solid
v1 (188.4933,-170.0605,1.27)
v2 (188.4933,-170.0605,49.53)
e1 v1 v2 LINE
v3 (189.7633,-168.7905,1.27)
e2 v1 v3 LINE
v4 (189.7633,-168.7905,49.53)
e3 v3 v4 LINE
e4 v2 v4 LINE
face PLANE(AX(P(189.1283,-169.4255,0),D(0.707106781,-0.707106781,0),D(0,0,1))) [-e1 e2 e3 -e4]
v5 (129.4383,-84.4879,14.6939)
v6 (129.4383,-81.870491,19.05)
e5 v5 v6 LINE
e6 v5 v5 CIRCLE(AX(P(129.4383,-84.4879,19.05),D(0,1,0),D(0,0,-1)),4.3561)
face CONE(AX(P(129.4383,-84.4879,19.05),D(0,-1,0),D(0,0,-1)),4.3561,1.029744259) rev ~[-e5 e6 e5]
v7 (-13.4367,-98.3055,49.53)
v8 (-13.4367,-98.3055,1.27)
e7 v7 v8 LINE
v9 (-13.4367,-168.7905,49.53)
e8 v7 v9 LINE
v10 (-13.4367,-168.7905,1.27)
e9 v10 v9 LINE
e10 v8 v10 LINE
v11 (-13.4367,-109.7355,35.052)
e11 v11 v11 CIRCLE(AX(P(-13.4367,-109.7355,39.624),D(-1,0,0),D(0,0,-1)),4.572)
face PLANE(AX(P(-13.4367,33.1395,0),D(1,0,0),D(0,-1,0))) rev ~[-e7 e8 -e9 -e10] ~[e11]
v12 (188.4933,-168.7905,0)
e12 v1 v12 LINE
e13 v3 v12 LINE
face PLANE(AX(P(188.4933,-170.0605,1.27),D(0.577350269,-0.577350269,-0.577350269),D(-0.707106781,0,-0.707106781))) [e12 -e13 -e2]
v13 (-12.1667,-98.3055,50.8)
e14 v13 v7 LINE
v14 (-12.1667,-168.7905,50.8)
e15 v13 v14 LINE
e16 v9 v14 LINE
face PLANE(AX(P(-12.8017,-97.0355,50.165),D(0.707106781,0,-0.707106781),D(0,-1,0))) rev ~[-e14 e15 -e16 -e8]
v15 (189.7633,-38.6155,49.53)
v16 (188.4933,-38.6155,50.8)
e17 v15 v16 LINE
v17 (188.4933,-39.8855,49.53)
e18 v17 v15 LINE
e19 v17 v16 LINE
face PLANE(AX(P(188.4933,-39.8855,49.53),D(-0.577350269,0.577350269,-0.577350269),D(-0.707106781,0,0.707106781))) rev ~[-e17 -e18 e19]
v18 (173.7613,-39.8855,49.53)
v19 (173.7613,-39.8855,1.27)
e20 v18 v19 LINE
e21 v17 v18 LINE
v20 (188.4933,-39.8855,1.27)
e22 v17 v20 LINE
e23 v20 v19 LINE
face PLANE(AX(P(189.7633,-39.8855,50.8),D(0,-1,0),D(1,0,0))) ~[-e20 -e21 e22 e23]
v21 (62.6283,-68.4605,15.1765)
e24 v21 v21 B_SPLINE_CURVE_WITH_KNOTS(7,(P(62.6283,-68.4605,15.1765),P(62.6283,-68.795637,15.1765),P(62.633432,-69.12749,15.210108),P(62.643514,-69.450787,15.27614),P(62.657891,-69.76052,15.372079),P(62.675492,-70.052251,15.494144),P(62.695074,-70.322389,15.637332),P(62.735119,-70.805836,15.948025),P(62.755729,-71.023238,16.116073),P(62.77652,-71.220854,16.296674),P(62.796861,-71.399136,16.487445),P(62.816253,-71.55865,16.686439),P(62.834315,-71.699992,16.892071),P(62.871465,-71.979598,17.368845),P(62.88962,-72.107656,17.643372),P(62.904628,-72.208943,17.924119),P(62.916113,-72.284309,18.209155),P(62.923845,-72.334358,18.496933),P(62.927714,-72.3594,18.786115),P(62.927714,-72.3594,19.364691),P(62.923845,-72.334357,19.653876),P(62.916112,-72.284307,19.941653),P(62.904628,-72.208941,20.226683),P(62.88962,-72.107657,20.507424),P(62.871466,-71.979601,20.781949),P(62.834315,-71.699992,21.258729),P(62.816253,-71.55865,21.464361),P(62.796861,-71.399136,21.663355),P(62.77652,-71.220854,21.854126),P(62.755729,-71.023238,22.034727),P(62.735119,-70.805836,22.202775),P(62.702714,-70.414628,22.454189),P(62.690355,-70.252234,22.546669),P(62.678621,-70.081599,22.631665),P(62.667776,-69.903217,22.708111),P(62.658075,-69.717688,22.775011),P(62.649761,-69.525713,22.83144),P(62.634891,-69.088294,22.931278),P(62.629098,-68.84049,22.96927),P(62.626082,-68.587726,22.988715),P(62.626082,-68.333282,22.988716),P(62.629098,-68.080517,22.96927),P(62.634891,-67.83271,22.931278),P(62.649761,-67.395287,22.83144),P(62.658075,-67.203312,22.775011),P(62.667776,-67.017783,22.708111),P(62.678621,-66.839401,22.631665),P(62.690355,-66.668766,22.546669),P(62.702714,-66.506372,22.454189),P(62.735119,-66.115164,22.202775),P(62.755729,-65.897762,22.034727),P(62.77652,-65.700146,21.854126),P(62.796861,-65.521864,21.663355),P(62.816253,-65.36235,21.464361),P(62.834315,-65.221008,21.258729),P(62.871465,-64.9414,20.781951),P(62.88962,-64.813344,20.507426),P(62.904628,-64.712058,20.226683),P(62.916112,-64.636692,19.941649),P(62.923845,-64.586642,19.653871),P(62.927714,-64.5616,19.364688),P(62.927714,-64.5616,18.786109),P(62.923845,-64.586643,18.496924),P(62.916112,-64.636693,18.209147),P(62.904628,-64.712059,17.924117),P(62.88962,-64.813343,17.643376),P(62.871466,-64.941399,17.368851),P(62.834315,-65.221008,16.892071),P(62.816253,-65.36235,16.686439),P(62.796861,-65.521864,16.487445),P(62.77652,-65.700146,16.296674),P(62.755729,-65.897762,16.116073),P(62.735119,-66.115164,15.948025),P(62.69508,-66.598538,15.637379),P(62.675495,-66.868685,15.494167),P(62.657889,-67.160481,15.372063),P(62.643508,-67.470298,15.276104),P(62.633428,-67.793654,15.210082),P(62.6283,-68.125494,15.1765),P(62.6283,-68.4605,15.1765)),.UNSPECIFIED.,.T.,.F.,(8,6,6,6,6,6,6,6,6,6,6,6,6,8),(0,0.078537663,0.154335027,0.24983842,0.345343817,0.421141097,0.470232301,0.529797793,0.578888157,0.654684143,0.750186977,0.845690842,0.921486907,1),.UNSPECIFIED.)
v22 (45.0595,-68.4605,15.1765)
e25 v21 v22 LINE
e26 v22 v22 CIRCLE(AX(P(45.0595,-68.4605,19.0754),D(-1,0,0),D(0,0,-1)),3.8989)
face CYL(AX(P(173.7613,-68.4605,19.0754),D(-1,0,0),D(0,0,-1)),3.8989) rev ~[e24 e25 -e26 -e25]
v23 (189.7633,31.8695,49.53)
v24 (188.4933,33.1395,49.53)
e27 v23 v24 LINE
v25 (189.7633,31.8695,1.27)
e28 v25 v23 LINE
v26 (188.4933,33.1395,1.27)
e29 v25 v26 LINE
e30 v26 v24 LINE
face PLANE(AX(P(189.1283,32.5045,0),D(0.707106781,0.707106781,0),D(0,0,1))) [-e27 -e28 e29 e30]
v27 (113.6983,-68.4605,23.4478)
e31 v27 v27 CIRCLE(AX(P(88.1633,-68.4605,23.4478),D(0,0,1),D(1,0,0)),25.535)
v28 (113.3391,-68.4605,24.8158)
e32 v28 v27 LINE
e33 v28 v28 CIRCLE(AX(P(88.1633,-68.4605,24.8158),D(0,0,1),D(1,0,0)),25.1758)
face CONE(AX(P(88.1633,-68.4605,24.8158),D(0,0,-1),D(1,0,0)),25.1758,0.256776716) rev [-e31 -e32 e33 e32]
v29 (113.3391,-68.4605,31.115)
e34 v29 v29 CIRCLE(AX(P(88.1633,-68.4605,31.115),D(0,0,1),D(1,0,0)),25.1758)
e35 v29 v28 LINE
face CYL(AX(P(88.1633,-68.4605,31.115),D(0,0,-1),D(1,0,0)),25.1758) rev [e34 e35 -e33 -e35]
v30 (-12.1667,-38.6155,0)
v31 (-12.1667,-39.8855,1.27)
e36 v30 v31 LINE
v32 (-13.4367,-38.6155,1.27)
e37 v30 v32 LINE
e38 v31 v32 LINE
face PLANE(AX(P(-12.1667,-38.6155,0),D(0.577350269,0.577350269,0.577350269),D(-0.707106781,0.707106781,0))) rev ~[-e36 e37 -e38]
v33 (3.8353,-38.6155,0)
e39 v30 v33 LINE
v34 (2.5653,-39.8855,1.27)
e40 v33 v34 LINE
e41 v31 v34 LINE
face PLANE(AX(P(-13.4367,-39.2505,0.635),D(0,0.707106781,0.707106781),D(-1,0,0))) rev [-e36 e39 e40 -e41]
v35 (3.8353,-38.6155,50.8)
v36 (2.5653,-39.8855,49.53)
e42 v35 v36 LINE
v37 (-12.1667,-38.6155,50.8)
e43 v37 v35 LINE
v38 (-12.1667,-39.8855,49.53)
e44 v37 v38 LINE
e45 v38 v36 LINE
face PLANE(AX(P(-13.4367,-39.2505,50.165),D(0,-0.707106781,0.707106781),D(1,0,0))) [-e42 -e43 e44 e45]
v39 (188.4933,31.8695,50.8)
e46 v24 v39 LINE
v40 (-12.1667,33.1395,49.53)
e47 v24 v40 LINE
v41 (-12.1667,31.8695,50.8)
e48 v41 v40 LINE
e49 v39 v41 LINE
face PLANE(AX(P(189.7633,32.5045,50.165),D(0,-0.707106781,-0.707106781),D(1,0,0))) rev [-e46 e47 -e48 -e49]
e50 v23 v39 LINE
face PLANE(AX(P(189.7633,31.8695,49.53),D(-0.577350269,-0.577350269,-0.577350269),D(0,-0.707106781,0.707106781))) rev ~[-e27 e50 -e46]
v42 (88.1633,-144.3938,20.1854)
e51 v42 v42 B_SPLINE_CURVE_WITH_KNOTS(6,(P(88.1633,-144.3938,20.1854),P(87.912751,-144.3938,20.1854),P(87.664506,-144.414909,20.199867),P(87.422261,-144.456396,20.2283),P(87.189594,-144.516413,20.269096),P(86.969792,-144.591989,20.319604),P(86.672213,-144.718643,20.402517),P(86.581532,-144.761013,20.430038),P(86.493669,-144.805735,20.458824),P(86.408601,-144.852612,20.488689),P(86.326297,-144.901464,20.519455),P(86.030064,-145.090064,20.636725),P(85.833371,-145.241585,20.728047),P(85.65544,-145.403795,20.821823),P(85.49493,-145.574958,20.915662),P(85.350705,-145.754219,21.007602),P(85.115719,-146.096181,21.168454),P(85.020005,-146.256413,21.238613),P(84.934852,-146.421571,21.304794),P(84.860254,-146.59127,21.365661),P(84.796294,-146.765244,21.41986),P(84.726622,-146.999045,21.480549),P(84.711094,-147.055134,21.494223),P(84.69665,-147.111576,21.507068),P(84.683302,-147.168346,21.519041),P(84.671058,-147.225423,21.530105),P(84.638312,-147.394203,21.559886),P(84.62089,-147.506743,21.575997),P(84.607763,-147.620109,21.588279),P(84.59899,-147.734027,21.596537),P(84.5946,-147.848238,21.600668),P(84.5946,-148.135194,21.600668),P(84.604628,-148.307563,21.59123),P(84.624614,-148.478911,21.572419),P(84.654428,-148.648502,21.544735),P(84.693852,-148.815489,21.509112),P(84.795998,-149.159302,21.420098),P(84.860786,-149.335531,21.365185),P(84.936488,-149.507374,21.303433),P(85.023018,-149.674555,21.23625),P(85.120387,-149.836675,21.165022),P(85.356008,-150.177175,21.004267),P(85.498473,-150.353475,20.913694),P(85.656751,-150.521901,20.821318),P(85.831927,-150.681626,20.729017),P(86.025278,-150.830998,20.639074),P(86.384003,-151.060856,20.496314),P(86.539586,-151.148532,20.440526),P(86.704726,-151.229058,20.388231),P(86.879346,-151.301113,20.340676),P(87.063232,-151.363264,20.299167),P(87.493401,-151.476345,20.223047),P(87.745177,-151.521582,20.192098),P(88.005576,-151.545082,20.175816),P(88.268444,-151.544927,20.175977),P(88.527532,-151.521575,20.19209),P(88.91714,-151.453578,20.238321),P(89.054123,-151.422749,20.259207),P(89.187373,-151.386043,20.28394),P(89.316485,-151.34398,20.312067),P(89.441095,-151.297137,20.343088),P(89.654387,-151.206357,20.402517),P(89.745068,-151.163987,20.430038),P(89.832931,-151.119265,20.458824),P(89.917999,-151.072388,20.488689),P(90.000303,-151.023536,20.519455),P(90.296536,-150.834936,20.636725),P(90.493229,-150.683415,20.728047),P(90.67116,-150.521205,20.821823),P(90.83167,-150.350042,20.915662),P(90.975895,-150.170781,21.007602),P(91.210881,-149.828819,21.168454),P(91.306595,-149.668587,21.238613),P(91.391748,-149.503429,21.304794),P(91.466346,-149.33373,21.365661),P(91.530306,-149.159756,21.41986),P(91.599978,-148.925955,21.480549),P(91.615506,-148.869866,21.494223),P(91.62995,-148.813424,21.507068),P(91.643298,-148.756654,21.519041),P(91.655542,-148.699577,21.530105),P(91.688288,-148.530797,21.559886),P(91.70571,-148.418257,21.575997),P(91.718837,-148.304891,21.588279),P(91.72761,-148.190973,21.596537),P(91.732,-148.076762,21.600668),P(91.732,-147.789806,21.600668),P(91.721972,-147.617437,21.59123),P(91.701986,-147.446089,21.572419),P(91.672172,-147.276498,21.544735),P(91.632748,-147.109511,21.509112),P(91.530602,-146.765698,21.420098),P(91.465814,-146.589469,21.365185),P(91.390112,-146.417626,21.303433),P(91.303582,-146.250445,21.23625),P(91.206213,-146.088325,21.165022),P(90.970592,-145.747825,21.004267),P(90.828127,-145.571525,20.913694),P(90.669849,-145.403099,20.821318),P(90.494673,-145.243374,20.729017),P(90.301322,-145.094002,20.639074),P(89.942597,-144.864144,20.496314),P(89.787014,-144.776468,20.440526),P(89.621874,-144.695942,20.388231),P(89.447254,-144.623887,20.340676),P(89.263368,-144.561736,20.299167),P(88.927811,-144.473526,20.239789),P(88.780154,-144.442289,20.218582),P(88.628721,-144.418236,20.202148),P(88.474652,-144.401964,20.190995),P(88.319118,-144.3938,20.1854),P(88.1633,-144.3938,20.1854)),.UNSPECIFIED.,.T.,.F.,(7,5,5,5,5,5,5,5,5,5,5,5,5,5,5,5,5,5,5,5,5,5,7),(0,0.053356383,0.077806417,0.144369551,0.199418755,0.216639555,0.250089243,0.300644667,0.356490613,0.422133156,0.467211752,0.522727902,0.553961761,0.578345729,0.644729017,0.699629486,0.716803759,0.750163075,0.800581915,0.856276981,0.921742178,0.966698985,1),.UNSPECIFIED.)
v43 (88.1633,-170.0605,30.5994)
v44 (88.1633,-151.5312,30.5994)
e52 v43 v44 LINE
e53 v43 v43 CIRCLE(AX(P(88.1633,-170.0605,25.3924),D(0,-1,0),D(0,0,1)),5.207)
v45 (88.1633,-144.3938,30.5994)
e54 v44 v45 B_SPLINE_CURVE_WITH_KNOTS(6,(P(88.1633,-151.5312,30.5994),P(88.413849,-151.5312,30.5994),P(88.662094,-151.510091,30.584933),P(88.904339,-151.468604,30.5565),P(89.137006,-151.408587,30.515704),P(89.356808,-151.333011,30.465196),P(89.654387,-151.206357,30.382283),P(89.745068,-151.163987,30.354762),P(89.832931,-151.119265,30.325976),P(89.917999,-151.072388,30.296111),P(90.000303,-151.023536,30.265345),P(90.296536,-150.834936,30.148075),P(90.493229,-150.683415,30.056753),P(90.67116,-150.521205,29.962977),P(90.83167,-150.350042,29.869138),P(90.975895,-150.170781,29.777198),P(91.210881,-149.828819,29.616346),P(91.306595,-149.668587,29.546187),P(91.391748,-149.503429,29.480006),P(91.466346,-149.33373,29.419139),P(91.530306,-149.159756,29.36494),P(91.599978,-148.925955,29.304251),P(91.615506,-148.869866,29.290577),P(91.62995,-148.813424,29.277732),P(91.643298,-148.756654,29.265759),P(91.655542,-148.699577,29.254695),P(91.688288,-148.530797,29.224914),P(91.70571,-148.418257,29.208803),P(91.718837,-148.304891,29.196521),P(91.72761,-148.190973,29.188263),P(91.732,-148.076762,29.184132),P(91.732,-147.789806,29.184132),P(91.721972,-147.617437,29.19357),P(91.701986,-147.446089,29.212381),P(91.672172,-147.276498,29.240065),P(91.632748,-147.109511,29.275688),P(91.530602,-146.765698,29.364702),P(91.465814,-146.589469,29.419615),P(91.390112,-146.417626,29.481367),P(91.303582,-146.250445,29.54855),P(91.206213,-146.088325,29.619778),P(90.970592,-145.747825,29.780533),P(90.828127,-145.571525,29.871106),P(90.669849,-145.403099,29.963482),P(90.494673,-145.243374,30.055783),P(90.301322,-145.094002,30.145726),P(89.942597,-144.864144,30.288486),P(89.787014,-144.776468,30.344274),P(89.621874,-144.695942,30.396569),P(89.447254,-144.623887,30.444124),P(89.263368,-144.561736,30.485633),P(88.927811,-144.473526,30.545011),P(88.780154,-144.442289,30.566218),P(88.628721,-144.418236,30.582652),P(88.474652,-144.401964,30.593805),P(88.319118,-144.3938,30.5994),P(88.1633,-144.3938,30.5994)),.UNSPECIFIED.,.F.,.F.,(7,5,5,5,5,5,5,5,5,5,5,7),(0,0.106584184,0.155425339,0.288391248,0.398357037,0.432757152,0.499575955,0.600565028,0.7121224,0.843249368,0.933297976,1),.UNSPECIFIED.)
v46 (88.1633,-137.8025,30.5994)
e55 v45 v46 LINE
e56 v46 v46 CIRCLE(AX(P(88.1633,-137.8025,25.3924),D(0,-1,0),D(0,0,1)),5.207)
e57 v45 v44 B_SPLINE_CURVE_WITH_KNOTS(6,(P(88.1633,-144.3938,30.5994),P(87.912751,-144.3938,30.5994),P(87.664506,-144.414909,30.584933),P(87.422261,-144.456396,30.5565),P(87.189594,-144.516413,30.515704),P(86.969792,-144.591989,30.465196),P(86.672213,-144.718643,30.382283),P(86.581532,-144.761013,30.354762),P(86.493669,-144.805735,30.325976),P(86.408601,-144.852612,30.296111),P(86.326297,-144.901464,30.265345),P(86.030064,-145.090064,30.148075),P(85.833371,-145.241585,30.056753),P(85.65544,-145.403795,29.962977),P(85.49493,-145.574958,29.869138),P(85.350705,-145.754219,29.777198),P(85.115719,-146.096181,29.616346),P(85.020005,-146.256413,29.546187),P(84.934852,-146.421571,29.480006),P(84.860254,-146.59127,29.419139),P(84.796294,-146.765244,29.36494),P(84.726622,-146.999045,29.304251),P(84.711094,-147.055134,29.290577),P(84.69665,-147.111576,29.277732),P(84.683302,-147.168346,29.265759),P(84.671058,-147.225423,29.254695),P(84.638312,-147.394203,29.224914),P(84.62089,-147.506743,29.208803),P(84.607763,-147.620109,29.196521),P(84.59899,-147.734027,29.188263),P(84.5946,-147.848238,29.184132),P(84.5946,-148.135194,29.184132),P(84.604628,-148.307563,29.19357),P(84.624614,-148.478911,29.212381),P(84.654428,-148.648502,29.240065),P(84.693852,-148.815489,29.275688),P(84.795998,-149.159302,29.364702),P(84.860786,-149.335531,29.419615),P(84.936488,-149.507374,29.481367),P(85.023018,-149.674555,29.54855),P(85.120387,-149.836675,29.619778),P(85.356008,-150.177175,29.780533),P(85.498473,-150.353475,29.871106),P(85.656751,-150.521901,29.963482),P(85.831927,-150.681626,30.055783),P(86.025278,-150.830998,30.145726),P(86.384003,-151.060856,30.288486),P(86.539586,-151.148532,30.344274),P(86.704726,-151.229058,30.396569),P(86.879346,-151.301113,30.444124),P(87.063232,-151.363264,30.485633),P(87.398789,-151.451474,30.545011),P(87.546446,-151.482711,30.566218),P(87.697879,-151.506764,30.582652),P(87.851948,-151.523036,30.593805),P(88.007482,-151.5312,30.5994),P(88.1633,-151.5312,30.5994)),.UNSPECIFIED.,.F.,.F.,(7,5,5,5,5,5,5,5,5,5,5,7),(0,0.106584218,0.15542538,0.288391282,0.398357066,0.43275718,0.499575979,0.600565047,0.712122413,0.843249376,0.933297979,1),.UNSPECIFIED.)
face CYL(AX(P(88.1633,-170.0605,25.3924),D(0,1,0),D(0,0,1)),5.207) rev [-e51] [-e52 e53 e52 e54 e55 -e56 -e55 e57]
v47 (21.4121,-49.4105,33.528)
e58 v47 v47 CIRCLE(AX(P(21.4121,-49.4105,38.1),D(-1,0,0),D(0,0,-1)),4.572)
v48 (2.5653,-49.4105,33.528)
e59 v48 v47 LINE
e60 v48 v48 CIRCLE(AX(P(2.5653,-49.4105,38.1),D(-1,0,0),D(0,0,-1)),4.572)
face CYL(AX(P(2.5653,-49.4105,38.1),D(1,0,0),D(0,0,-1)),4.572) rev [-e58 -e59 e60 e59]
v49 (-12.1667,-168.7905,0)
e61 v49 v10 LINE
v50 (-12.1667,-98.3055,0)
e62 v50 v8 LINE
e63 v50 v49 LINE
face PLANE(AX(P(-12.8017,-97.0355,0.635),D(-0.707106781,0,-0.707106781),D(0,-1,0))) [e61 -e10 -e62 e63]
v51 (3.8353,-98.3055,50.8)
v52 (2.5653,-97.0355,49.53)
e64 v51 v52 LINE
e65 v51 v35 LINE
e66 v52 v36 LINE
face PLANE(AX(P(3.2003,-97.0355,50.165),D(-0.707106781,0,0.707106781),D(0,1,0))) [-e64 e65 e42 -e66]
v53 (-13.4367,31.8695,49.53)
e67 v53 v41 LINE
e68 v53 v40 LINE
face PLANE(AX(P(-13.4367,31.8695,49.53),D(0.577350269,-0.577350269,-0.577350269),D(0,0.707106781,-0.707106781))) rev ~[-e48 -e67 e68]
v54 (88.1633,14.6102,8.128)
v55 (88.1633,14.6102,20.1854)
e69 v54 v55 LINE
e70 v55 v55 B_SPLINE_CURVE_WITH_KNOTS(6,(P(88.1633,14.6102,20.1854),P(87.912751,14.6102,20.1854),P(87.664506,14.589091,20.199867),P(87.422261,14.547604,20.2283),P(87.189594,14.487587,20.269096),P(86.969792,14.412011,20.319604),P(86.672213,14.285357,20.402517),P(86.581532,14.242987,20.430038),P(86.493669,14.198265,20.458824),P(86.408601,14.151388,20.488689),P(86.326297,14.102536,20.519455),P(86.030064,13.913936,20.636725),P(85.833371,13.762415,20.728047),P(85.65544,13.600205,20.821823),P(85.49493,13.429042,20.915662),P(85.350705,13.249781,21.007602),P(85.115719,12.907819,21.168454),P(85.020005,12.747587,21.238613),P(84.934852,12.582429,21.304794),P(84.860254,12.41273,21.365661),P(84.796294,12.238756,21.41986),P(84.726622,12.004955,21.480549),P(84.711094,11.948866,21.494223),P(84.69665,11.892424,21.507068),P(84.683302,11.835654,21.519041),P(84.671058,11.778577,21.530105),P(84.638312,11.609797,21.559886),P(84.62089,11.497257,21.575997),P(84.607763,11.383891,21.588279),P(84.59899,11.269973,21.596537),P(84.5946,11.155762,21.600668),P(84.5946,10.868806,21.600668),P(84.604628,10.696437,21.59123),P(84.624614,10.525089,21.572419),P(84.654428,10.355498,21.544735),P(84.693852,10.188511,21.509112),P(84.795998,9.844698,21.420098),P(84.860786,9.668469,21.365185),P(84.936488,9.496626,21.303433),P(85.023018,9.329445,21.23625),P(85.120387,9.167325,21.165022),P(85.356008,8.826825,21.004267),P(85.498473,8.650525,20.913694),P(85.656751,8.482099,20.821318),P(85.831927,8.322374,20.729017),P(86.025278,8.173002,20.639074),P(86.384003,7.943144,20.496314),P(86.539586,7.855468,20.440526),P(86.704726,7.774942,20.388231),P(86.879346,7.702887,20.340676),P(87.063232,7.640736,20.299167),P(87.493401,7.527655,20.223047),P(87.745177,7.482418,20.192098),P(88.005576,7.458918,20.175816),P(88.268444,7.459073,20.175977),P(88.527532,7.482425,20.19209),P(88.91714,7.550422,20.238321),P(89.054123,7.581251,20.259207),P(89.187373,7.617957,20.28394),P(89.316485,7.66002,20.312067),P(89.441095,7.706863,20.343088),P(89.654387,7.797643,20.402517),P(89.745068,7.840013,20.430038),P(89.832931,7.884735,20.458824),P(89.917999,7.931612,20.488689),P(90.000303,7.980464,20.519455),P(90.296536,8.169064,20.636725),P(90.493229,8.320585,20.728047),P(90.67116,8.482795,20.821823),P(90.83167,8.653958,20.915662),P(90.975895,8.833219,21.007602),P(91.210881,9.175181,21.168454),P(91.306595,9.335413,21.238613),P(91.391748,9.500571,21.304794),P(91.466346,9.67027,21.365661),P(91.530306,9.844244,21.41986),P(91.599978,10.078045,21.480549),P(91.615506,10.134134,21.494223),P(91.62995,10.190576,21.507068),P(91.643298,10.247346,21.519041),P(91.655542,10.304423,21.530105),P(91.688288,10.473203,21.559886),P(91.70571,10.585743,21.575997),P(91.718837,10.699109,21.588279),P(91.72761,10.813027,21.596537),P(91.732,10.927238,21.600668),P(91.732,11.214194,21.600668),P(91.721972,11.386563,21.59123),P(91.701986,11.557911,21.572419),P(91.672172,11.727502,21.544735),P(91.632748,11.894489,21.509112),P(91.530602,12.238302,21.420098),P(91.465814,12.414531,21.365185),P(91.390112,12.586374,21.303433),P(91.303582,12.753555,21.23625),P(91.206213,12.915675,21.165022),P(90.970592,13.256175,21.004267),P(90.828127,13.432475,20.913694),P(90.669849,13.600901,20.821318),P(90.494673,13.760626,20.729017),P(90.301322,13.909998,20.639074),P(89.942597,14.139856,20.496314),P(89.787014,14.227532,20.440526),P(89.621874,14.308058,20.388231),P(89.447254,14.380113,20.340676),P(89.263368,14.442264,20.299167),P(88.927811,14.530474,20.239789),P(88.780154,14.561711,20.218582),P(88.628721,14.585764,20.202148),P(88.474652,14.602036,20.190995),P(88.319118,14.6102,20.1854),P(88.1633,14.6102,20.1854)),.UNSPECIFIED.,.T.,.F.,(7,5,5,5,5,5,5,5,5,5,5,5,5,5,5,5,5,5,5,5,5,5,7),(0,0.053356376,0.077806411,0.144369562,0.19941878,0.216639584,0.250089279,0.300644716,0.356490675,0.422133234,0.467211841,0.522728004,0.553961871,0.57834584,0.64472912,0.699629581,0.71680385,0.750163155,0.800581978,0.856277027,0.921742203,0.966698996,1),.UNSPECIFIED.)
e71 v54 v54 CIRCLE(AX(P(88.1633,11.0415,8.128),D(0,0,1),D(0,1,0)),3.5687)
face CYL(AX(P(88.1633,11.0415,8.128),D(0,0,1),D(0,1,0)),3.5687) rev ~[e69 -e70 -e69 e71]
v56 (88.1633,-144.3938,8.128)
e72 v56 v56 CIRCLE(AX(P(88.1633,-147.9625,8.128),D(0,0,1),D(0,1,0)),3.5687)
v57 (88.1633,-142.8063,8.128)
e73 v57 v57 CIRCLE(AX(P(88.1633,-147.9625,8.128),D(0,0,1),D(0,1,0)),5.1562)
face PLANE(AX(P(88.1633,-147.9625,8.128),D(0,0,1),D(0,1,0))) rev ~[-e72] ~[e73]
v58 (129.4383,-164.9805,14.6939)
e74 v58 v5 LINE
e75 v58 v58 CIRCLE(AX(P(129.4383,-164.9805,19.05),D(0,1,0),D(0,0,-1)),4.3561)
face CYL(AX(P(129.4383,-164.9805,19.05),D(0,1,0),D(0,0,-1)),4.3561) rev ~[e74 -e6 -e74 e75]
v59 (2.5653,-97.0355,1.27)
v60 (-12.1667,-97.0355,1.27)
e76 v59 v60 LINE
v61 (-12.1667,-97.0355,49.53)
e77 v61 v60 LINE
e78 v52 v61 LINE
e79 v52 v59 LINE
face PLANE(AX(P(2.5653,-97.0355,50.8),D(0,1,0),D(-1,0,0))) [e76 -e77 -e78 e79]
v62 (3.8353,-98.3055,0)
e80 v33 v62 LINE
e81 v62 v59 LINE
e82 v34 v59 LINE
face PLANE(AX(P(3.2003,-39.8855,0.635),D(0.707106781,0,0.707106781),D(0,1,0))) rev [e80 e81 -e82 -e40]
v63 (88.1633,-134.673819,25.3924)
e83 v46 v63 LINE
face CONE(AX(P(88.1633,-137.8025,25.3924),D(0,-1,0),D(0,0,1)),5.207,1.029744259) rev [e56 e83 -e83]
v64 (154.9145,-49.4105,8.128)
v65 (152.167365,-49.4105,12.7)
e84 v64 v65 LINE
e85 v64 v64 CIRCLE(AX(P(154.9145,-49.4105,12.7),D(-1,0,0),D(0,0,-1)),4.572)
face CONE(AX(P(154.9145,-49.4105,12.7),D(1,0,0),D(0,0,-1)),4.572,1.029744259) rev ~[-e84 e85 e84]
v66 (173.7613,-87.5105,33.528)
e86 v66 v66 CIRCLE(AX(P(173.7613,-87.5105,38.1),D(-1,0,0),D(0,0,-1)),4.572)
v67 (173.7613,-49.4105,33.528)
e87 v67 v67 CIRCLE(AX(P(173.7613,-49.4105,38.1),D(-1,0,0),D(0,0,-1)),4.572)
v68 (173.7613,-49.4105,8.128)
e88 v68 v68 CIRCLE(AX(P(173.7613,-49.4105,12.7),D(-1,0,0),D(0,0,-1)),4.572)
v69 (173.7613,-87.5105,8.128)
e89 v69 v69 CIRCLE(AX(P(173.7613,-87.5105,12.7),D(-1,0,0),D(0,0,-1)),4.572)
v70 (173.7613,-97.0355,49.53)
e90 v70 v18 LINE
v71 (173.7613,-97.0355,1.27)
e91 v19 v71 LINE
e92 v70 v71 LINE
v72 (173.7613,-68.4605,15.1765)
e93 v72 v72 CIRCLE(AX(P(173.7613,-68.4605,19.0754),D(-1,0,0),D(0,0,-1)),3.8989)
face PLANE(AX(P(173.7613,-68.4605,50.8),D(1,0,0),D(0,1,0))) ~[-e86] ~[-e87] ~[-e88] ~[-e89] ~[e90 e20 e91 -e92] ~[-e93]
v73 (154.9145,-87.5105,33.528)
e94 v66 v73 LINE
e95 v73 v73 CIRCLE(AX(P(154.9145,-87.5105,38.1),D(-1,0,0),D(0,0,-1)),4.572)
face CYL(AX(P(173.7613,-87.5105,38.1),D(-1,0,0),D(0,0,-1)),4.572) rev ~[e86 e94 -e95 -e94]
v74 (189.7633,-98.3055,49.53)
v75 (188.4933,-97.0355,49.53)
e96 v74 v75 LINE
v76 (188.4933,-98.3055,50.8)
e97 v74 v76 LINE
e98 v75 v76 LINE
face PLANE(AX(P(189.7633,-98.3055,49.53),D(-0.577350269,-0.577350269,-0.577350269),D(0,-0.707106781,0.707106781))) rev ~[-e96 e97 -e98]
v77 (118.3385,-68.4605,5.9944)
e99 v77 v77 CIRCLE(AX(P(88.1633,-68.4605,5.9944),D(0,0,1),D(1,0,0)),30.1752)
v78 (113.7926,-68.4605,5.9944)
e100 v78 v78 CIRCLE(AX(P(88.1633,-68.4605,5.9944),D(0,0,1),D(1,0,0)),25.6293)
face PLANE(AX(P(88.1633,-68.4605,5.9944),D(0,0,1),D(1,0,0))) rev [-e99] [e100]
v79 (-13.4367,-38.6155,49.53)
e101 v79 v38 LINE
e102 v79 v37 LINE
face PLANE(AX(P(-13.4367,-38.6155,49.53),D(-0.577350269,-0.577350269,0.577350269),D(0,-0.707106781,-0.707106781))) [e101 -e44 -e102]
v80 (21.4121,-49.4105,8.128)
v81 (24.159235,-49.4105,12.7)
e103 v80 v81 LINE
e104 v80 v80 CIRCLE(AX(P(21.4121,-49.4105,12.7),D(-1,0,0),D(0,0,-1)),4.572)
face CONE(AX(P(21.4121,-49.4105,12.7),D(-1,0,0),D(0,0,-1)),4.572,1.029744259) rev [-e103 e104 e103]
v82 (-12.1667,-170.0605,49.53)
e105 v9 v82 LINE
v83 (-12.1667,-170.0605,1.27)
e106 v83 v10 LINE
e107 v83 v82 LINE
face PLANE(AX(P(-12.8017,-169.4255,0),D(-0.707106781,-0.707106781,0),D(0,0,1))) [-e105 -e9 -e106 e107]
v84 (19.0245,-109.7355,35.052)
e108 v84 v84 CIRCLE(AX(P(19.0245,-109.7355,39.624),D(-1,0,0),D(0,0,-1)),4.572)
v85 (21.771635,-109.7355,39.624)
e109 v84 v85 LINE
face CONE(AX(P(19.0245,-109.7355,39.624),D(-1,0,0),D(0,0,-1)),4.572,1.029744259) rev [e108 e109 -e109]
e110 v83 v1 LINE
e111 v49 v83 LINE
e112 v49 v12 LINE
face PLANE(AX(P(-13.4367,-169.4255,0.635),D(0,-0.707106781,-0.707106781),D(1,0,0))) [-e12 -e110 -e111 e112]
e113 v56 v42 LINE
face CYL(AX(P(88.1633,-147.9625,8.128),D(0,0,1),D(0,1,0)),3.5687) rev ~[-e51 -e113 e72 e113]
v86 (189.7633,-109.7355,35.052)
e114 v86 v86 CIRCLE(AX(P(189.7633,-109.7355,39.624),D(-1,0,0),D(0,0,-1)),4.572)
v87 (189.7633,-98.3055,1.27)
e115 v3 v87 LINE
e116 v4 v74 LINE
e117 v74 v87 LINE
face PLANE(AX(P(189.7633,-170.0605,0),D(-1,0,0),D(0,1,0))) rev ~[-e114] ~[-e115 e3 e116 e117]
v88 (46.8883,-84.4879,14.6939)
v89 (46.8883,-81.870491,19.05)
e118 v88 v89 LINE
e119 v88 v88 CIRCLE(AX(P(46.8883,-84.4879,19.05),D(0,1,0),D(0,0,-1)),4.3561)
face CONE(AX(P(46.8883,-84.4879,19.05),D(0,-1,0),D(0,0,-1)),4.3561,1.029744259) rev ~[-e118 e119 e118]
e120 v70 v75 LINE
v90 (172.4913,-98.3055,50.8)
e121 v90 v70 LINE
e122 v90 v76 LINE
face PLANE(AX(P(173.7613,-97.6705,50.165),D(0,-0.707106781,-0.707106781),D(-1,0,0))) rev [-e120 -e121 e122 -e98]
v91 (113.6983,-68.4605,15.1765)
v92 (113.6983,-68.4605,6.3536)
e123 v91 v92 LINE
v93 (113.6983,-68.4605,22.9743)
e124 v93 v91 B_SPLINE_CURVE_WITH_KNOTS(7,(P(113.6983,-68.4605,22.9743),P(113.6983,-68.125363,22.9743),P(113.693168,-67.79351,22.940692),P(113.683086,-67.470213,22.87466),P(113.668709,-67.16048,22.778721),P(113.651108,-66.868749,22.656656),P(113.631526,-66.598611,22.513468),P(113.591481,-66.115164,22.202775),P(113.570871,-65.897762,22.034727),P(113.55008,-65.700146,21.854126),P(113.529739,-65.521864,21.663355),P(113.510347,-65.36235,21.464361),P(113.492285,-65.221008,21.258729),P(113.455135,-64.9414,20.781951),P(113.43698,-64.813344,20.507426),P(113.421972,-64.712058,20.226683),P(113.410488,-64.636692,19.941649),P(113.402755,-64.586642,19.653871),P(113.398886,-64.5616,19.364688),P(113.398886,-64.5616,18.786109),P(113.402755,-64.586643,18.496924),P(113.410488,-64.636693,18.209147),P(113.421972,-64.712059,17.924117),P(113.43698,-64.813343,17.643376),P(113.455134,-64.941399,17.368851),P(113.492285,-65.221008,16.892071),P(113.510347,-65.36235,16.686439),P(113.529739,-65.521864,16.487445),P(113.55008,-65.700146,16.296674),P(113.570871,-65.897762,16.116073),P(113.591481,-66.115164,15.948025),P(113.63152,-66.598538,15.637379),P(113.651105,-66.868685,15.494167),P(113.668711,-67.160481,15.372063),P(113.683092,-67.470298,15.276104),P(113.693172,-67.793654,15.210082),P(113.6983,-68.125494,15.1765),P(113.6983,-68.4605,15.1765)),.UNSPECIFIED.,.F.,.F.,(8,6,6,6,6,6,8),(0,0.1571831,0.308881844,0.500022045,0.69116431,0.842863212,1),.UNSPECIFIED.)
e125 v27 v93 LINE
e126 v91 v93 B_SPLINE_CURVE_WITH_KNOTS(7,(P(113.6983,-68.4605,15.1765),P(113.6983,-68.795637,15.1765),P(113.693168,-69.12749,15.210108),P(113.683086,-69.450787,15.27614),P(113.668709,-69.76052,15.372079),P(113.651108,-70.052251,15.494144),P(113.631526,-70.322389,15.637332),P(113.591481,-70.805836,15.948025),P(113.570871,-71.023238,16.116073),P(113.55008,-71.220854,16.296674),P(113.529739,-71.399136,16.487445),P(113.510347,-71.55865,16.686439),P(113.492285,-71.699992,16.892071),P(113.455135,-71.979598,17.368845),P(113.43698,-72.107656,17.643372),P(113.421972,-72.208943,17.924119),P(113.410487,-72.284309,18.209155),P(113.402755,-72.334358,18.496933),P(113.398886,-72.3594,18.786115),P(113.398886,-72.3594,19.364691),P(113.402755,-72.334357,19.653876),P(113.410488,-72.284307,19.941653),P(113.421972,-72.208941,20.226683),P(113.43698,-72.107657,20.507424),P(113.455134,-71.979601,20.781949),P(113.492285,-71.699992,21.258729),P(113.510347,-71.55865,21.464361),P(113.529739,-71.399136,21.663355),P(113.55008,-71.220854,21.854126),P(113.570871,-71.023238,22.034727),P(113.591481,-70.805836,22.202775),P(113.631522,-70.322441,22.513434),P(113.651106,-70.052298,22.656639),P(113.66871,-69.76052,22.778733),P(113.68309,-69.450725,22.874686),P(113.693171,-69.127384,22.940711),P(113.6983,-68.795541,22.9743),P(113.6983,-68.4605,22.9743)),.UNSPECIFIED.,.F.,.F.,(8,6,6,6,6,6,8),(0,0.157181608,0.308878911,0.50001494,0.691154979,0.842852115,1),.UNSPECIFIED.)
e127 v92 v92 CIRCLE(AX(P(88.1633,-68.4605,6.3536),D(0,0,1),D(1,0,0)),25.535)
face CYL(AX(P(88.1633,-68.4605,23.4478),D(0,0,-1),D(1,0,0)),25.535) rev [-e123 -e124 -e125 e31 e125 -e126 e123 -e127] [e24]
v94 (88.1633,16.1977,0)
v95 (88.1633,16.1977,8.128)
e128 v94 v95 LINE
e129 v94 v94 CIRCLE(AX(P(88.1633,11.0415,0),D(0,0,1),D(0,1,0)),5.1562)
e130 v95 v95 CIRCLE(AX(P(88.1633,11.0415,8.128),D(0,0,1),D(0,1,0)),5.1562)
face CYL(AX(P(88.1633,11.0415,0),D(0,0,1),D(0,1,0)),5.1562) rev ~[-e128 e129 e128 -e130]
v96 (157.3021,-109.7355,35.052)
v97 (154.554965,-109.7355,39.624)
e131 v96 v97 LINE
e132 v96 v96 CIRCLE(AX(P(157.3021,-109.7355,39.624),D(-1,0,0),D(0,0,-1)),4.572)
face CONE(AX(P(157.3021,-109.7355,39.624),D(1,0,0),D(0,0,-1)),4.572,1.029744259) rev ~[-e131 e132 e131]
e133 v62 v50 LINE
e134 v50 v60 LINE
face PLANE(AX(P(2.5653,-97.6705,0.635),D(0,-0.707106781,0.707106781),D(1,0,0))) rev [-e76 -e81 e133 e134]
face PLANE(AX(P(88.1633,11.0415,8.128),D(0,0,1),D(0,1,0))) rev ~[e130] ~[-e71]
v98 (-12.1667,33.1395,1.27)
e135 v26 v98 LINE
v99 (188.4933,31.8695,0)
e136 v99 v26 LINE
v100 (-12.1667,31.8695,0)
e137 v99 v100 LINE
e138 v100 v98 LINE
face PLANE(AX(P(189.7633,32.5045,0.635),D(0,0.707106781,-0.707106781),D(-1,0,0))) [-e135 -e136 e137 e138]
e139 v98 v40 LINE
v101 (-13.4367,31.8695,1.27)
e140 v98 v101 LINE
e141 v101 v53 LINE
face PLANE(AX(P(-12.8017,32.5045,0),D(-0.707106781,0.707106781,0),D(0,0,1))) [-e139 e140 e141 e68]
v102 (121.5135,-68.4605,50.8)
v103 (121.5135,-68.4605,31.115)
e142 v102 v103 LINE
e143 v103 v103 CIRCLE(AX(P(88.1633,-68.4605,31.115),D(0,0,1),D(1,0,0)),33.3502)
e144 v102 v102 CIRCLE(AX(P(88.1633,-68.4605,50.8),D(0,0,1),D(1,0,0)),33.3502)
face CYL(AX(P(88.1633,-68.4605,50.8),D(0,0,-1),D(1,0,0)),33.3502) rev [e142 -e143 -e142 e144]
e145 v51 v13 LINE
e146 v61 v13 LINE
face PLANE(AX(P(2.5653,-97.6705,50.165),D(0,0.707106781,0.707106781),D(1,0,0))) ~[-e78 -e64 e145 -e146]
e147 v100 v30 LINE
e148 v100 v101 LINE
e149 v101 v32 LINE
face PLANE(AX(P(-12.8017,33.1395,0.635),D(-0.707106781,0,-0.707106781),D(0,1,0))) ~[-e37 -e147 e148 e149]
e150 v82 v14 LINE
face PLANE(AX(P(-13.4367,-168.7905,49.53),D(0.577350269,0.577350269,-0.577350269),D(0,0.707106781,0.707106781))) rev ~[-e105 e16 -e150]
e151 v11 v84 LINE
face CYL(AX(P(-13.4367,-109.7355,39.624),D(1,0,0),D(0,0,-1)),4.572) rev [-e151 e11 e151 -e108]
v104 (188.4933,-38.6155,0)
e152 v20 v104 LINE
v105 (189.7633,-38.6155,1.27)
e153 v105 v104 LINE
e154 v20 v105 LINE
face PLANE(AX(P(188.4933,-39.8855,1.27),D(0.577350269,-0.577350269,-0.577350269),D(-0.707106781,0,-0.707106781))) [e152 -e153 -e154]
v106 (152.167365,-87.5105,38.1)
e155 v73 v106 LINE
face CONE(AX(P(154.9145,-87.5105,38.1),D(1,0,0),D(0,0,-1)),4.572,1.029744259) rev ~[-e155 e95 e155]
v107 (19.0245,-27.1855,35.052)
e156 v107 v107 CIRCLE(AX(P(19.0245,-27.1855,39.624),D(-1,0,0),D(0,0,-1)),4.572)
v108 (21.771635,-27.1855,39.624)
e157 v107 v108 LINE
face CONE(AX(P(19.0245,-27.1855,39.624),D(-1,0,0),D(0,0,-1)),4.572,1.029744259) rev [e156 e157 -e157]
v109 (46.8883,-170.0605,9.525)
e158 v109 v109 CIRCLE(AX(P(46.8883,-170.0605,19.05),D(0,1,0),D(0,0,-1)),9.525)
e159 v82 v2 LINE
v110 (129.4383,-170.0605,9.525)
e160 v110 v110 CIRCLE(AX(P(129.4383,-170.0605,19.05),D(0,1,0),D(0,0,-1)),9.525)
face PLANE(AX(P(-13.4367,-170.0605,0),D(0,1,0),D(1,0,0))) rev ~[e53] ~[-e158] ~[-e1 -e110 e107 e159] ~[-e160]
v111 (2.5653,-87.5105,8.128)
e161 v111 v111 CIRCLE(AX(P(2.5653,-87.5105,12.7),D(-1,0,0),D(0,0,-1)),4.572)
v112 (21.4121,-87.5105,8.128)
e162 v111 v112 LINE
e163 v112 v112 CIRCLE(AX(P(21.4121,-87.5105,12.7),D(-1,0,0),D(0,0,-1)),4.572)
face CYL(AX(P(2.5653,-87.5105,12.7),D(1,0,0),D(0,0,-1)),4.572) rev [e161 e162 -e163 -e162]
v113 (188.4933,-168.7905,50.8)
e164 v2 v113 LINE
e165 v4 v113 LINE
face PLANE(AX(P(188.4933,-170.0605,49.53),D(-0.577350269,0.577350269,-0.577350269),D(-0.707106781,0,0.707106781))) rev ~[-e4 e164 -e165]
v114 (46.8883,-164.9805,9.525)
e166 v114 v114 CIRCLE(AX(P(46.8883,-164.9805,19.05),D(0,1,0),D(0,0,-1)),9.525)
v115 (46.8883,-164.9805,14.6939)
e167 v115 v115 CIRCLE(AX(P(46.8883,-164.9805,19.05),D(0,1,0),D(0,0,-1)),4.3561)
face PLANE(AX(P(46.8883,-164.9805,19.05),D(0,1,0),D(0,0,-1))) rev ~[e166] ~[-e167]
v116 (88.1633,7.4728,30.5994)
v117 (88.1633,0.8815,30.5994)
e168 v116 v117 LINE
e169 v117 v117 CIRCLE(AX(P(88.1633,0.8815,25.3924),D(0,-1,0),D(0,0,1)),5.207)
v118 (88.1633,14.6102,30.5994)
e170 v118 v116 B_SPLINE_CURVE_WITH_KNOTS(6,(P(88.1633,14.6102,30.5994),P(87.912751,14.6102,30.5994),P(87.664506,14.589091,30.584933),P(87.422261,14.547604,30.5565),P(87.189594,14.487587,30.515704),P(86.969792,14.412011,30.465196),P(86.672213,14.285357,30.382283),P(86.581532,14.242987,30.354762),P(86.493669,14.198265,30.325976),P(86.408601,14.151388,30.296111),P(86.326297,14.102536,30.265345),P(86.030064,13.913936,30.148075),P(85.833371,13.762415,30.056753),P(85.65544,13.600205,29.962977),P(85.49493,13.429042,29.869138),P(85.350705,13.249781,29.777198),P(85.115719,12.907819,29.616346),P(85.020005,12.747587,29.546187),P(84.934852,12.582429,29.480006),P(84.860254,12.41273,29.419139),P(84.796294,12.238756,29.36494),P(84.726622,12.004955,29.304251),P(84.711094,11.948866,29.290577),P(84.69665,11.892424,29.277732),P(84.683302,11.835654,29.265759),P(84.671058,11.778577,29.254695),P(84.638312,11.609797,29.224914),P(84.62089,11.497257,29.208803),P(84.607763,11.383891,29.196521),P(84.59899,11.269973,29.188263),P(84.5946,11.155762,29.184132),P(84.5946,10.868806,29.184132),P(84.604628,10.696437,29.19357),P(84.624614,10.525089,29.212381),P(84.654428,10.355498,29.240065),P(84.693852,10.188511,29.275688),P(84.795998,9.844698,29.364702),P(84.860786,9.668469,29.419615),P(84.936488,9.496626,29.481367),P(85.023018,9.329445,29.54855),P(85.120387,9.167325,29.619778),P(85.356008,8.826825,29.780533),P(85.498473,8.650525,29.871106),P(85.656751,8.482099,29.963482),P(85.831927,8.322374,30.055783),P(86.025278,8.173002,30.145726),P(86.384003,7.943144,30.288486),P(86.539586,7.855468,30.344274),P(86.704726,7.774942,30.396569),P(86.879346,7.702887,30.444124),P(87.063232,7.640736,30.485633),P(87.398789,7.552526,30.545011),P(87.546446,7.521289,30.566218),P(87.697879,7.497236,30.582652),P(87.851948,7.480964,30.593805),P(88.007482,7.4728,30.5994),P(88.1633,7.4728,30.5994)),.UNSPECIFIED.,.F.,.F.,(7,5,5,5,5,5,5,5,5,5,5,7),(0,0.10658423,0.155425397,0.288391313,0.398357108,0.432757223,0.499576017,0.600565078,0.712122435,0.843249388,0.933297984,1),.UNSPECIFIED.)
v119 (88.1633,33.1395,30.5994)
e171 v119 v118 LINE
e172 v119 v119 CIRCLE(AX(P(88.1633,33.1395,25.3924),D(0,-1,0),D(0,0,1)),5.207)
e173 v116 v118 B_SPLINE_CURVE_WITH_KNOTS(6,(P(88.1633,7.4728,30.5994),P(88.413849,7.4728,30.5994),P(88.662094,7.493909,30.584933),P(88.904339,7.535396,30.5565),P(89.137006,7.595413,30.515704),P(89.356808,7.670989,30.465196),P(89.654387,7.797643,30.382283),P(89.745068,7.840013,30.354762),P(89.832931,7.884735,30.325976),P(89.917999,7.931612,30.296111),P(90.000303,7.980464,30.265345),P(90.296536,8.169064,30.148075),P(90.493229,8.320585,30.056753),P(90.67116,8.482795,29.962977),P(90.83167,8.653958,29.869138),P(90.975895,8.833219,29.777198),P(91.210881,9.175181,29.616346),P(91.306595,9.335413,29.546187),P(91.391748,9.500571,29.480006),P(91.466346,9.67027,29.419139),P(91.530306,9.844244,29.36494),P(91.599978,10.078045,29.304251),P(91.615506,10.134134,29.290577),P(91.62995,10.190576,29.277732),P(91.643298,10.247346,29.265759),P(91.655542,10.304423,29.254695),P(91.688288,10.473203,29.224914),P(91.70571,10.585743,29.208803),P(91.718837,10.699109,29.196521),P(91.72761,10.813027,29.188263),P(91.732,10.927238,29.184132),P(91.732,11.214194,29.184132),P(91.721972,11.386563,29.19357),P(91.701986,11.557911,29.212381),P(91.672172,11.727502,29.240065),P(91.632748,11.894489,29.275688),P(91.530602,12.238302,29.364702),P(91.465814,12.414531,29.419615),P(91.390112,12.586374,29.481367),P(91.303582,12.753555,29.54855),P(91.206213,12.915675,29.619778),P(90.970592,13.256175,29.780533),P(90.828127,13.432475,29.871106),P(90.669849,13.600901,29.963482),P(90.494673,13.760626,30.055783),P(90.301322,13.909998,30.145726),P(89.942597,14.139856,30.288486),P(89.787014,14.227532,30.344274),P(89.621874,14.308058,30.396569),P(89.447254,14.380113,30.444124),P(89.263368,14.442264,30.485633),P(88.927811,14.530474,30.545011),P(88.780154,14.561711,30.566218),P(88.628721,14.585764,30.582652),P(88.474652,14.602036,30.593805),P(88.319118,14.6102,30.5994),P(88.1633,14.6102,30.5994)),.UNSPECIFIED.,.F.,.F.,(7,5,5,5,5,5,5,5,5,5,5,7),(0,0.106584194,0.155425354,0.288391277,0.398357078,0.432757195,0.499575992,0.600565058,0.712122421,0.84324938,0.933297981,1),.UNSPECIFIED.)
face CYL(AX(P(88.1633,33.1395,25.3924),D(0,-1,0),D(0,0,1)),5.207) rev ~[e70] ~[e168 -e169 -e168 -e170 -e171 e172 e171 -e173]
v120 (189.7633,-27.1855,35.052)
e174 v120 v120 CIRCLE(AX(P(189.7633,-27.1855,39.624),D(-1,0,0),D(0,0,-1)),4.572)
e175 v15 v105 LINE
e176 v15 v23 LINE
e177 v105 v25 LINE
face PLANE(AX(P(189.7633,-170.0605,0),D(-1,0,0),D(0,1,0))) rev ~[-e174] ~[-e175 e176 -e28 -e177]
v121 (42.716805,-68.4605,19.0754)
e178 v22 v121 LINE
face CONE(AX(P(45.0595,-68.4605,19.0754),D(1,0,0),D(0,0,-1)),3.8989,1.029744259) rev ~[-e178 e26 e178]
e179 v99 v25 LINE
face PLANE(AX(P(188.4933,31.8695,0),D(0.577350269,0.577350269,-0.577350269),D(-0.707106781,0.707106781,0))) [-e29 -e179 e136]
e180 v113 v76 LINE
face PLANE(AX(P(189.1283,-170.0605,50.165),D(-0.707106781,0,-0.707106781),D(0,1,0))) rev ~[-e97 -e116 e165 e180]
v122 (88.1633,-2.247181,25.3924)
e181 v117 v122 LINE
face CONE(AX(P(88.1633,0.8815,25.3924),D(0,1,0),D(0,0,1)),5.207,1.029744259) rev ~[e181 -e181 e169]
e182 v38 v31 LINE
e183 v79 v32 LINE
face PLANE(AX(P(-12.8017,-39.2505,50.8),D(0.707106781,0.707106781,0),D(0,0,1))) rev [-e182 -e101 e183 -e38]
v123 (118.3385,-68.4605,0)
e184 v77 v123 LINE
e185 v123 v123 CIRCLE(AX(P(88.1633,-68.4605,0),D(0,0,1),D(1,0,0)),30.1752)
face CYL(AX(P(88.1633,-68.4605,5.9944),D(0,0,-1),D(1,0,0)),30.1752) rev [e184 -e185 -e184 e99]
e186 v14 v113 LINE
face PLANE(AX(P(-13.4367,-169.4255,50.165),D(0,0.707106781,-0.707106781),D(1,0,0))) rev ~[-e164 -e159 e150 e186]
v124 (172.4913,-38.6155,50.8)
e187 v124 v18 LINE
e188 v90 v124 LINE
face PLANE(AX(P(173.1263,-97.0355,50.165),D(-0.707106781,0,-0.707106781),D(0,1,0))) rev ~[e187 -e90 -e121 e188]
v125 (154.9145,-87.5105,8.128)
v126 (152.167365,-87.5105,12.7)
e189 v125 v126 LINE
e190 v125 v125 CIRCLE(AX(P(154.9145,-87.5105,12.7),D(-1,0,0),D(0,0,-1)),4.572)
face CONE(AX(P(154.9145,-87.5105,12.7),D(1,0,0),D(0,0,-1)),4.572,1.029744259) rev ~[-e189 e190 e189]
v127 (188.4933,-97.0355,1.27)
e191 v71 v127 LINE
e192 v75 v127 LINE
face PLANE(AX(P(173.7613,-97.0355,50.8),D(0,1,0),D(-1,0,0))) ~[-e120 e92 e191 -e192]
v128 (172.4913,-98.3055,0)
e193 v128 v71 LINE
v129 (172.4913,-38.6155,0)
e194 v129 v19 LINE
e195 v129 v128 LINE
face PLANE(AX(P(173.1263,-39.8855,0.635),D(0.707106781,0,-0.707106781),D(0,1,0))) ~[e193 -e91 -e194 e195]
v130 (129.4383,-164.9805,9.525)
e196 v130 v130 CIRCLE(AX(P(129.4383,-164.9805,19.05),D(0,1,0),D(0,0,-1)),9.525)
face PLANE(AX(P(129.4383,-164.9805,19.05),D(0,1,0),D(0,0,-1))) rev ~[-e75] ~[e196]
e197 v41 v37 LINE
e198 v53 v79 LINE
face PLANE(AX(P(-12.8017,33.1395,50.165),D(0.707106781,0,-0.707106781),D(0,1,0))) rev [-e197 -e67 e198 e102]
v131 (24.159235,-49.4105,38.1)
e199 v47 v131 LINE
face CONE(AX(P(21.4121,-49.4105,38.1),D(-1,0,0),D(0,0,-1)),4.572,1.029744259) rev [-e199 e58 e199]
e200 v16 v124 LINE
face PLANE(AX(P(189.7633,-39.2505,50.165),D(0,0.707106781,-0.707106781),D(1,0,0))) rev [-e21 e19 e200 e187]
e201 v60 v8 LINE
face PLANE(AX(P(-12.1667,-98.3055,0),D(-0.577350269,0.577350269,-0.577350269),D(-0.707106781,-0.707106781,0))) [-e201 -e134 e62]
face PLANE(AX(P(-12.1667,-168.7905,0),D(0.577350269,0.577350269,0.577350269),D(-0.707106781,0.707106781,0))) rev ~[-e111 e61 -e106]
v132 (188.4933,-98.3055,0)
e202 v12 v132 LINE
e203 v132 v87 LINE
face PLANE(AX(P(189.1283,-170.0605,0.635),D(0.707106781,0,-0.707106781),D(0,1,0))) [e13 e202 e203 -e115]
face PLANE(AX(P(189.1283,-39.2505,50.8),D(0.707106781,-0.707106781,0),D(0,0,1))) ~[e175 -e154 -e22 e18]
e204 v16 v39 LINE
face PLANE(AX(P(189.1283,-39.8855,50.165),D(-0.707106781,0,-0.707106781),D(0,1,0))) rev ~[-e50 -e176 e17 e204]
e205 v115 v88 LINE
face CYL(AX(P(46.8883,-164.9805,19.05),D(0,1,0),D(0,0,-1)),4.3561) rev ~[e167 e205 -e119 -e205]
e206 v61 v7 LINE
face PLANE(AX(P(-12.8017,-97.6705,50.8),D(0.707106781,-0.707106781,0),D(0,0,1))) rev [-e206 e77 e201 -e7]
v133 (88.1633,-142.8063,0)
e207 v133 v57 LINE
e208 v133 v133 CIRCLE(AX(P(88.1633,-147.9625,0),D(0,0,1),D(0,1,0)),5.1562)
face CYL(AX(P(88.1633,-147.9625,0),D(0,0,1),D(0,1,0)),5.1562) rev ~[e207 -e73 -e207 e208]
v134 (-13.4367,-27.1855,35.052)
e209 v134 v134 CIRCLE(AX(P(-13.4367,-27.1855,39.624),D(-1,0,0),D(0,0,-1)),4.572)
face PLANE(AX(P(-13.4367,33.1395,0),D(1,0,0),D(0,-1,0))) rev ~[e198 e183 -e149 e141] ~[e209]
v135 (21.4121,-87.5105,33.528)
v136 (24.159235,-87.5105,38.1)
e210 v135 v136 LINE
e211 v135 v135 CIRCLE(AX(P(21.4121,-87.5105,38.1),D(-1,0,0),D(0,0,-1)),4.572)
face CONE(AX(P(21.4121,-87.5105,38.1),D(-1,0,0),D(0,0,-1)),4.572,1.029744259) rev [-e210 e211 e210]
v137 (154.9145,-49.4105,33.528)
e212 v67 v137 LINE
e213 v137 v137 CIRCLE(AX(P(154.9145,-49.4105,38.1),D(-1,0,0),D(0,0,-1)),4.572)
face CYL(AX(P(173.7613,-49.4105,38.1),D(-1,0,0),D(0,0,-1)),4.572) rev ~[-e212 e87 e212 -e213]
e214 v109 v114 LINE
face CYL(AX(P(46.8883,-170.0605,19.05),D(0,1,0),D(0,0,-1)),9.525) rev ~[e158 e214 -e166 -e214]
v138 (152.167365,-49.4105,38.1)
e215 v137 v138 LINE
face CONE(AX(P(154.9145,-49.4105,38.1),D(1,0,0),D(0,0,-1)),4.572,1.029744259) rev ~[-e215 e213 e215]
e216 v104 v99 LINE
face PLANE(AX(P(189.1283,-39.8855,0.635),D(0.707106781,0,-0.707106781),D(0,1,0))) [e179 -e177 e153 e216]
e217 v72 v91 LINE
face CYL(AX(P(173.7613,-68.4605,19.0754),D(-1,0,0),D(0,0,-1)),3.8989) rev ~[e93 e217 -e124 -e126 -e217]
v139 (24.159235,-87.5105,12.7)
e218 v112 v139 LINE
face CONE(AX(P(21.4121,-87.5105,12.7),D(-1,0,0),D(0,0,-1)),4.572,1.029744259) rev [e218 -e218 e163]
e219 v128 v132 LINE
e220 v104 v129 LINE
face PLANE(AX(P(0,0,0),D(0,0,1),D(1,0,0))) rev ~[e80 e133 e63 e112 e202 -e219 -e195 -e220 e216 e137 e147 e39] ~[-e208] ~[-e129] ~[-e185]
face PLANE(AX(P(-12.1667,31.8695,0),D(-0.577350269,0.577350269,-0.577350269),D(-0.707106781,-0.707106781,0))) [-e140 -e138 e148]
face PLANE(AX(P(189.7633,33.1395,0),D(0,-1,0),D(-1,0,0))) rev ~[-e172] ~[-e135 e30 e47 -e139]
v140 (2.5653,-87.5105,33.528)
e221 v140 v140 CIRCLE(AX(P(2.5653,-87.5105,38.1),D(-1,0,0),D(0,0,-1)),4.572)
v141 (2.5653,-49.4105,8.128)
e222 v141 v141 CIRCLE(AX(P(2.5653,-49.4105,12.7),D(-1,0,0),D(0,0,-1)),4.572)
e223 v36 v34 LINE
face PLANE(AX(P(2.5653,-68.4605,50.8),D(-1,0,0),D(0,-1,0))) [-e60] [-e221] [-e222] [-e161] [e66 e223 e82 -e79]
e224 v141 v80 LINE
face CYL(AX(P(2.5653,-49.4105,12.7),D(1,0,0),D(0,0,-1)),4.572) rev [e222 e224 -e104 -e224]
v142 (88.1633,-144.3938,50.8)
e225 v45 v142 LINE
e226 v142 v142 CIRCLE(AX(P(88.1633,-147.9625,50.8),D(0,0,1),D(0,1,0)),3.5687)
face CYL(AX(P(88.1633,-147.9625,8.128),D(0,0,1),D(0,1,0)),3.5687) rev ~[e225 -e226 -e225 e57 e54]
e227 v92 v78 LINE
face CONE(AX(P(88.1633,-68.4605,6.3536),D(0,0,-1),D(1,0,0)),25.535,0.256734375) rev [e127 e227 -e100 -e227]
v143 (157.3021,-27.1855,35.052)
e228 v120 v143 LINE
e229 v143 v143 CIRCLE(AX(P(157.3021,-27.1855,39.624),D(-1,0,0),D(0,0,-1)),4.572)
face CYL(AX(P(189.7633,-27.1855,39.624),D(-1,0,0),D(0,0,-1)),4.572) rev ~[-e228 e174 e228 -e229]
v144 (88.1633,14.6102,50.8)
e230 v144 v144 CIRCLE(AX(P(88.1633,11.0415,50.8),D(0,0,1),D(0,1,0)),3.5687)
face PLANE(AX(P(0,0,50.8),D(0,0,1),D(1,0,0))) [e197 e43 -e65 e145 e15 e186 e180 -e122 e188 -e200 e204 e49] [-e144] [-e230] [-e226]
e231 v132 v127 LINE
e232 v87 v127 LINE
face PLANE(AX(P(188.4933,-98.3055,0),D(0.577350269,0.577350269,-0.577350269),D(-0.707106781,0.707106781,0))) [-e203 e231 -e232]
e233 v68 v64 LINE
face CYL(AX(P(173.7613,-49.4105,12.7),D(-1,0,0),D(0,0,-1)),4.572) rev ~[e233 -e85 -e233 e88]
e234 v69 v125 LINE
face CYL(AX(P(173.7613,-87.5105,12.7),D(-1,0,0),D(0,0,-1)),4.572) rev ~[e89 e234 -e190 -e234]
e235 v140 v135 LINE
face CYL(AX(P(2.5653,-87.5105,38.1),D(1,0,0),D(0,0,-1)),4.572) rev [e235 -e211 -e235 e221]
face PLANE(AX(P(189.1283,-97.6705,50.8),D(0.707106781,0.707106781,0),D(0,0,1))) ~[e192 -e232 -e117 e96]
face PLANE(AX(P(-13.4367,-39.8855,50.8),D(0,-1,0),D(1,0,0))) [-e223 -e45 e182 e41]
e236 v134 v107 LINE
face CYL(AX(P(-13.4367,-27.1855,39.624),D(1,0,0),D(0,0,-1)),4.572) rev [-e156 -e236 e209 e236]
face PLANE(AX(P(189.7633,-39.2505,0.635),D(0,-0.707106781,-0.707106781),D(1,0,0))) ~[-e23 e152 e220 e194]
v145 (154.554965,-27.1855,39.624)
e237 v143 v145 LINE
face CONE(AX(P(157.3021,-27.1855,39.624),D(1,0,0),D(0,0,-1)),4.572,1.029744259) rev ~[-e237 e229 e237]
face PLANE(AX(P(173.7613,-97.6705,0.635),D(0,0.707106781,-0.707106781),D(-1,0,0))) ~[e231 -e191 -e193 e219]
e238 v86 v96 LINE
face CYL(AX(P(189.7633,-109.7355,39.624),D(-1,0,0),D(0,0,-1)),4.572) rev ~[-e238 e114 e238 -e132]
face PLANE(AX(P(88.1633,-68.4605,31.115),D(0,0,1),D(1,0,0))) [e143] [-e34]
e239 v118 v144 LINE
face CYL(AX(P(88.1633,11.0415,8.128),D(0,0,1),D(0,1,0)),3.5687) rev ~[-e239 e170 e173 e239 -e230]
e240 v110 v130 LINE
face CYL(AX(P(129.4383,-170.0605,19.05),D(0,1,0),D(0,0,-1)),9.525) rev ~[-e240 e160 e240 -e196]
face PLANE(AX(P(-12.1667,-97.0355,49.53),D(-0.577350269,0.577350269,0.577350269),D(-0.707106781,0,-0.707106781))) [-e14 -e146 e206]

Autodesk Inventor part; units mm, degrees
sketch "Sketch1" plane through (0, 0, 0) normal (0, 0, 1) x (1, 0, 0)
  line L0 (-13.4367, -170.0605) -> (189.7633, -170.0605)
  line L1 (189.7633, -170.0605) -> (189.7633, 33.1395)
  line L2 (189.7633, 33.1395) -> (-13.4367, 33.1395)
  line L3 (-13.4367, 33.1395) -> (-13.4367, -170.0605)
  dimension "d0" = 203.2
  dimension "d1" = 203.2
extrude "Extrusion1" add sketch "Sketch1" along normal blind 50.8
ref_plane "Work Plane1" through (88.1633, -170.0605, 0) normal (1, 0, 0) x (0, 0, -1)
ref_plane "Work Plane2" through (-13.4367, -68.4605, 0) normal (0, 1, 0) x (1, 0, 0)
sketch "Sketch2" plane through (0, 0, 50.8) normal (0, 0, 1) x (1, 0, 0)
  line L0 (-13.4367, -170.0605) -> (-13.4367, 33.1395) projected
  line L1 (-13.4367, -39.8855) -> (2.5653, -39.8855)
  line L2 (2.5653, -39.8855) -> (2.5653, -97.0355)
  line L3 (2.5653, -97.0355) -> (-13.4367, -97.0355)
  line L4 (-13.4367, -97.0355) -> (-13.4367, -39.8855)
  line L5 (-33.7567, -68.4605) -> (250.7233, -68.4605) projected
  dimension "d4" = 16.002
  dimension "d5" = 57.15
  dimension "d6" = 28.575
extrude "Extrusion2" cut sketch "Sketch2" against normal through all
mirror "Mirror1" about plane through (88.1633, -170.0605, 0) normal (1, 0, 0) of "Extrusion2"
sketch "Sketch3" plane through (-13.4367, -68.4605, 0) normal (0, 1, 0) x (1, 0, 0)
  line L0 (101.6, 5.08) -> (101.6, -66.04) projected
  line L1 (101.6, -50.8) -> (134.9502, -50.8)
  line L2 (134.9502, -50.8) -> (134.9502, -31.115)
  line L3 (134.9502, -31.115) -> (126.7758, -31.115)
  line L4 (126.7758, -31.115) -> (126.7758, -24.8158)
  line L5 (126.7758, -24.8158) -> (127.135, -23.4478)
  line L6 (127.135, -23.4478) -> (127.135, -6.3536)
  line L7 (127.135, -6.3536) -> (127.2293, -5.9944)
  line L8 (127.2293, -5.9944) -> (131.7752, -5.9944)
  line L9 (131.7752, -5.9944) -> (131.7752, 0)
  line L10 (131.7752, 0) -> (101.6, 0)
  line L11 (203.2, 0) -> (0, 0) projected
  line L12 (0, -50.8) -> (203.2, -50.8) projected
  point P0 (131.7752, -2.9972)
  dimension "d9" = 30.1752
  dimension "d10" = 5.9944
  dimension "d11" = 17.0942
  dimension "d12" = 6.2992
  dimension "d13" = 19.685
  dimension "d14" = 33.3502
revolve "Revolution1" cut sketch "Sketch3" angle 360 about axis through (88.1633, -68.4605, 0) along (0, 0, 1)
sketch "Sketch6" plane through (-13.4367, -170.0605, 0) normal (0, -1, 0) x (1, 0, 0)
  line L0 (76.2, 50.8) -> (0, 50.8) projected
  line L1 (101.6, 66.04) -> (101.6, -5.08) projected
  point P0 (60.325, 19.05)
  point P1 (142.875, 19.05)
  dimension "d31" = 41.275
  dimension "d32" = 31.75
hole "Hole2" at (46.8883, -170.0605, 19.05) at (129.4383, -170.0605, 19.05) direction (0, 1, 0) diameter 8.7122 depth 85.5726 tip angle 118 counterbore diameter 19.05 counterbore depth 5.08
sketch "Sketch7" plane through (189.7633, -170.0605, 50.8) normal (1, 0, 0) x (0, 0, -1)
  line L0 (0, 73.025) -> (0, 0) projected
  line L1 (-15.24, 101.6) -> (55.88, 101.6) projected
  point P0 (11.176, 60.325)
  point P1 (11.176, 142.875)
  dimension "d40" = 41.275
  dimension "d41" = 11.176
hole "Hole3" at (189.7633, -109.7355, 39.624) at (189.7633, -27.1855, 39.624) direction (-1, 0, 0) diameter 9.144 depth 32.4612 tip angle 118 thread size "7/16-14 UNC" class "1B" standard "ANSI Unified Screw Threads"
mirror "Mirror3" about plane through (88.1633, -170.0605, 0) normal (1, 0, 0) of "Hole3"
ref_plane "Work Plane3" through (0, 0, 25.4) normal (0, 0, 1) x (1, 0, 0)
sketch "Sketch8" plane through (173.7613, -97.0355, 0) normal (1, 0, 0) x (0, 0, -1)
  line L0 (-25.4, -93.345) -> (-25.4, 191.135) projected
  line L1 (-66.04, 28.575) -> (5.08, 28.575) projected
  point P0 (-38.1, 47.625)
  point P1 (-12.7, 47.625)
  point P2 (-38.1, 9.525)
  point P3 (-12.7, 9.525)
  dimension "d49" = 12.7
  dimension "d50" = 19.05
hole "Hole4" at (173.7613, -49.4105, 38.1) at (173.7613, -49.4105, 12.7) at (173.7613, -87.5105, 38.1) at (173.7613, -87.5105, 12.7) direction (-1, 0, 0) diameter 9.144 depth 18.8468 tip angle 118 thread size "7/16-14 UNC" class "1B" standard "ANSI Unified Screw Threads"
mirror "Mirror4" about plane through (88.1633, -170.0605, 0) normal (1, 0, 0) of "Hole4"
sketch "Sketch9" plane through (0, 0, 0) normal (0, 0, -1) x (-1, 0, 0)
  line L0 (-189.7633, 33.1395) -> (13.4367, 33.1395) projected
  line L1 (-250.7233, -68.4605) -> (33.7567, -68.4605) projected
  point P0 (-88.1633, 11.0415)
  point P1 (-88.1633, -147.9625)
  dimension "d58" = 22.098
hole "Hole5" at (88.1633, 11.0415, 0) at (88.1633, -147.9625, 0) direction (0, 0, 1) diameter 7.1374 end through all counterbore diameter 10.3124 counterbore depth 8.128
sketch "Sketch10" plane through (173.7613, -97.0355, 0) normal (1, 0, 0) x (0, 0, -1)
  line L0 (0, 57.15) -> (0, 0) projected
  point P0 (-19.0754, 28.575)
  dimension "d66" = 19.0754
hole "Hole6" at (173.7613, -68.4605, 19.0754) direction (-1, 0, 0) diameter 7.7978 depth 128.7018 tip angle 118 thread size "3/8-16 UNC" class "1B" standard "ANSI Unified Screw Threads"
sketch "Sketch11" plane through (-13.4367, 33.1395, 0) normal (0, 1, 0) x (1, 0, 0)
  line L0 (203.2, 0) -> (0, 0) projected
  line L1 (101.6, 5.08) -> (101.6, -66.04) projected
  point P0 (101.6, -25.3924)
  dimension "d74" = 25.3924
hole "Hole7" at (88.1633, 33.1395, 25.3924) direction (0, -1, 0) diameter 10.414 depth 32.258 tip angle 118 thread size "1/2-12 UNS" class "2B" standard "ANSI Unified Screw Threads"
mirror "Mirror5" about plane through (-13.4367, -68.4605, 0) normal (0, 1, 0) of "Hole7"
chamfer "Chamfer1" distance 1.27 angle 45 32 edges at (88.1633, 33.1395, 50.8) (189.7633, 33.1395, 25.4) (189.7633, -3.373, 50.8) (189.7633, -3.373, 0) (189.7633, -39.8855, 25.4) (181.7623, -39.8855, 50.8) (173.7613, -68.4605, 50.8) (181.7623, -97.0355, 50.8) (189.7633, -97.0355, 25.4) (189.7633, -133.548, 50.8) (189.7633, -133.548, 0) (189.7633, -170.0605, 25.4) (88.1633, -170.0605, 50.8) (-13.4367, -170.0605, 25.4) (-13.4367, -133.548, 50.8) (-5.4357, -97.0355, 50.8) (2.5653, -68.4605, 50.8) (-5.4357, -39.8855, 50.8) (-13.4367, -3.373, 50.8) (-13.4367, -97.0355, 25.4) (-13.4367, -39.8855, 25.4) (-13.4367, 33.1395, 25.4) (88.1633, 33.1395, 0) (181.7623, -39.8855, 0) (173.7613, -68.4605, 0) (181.7623, -97.0355, 0) (-5.4357, -97.0355, 0) (2.5653, -68.4605, 0) (-5.4357, -39.8855, 0) (-13.4367, -3.373, 0) (88.1633, -170.0605, 0) (-13.4367, -133.548, 0)
properties part number "middleplate"
